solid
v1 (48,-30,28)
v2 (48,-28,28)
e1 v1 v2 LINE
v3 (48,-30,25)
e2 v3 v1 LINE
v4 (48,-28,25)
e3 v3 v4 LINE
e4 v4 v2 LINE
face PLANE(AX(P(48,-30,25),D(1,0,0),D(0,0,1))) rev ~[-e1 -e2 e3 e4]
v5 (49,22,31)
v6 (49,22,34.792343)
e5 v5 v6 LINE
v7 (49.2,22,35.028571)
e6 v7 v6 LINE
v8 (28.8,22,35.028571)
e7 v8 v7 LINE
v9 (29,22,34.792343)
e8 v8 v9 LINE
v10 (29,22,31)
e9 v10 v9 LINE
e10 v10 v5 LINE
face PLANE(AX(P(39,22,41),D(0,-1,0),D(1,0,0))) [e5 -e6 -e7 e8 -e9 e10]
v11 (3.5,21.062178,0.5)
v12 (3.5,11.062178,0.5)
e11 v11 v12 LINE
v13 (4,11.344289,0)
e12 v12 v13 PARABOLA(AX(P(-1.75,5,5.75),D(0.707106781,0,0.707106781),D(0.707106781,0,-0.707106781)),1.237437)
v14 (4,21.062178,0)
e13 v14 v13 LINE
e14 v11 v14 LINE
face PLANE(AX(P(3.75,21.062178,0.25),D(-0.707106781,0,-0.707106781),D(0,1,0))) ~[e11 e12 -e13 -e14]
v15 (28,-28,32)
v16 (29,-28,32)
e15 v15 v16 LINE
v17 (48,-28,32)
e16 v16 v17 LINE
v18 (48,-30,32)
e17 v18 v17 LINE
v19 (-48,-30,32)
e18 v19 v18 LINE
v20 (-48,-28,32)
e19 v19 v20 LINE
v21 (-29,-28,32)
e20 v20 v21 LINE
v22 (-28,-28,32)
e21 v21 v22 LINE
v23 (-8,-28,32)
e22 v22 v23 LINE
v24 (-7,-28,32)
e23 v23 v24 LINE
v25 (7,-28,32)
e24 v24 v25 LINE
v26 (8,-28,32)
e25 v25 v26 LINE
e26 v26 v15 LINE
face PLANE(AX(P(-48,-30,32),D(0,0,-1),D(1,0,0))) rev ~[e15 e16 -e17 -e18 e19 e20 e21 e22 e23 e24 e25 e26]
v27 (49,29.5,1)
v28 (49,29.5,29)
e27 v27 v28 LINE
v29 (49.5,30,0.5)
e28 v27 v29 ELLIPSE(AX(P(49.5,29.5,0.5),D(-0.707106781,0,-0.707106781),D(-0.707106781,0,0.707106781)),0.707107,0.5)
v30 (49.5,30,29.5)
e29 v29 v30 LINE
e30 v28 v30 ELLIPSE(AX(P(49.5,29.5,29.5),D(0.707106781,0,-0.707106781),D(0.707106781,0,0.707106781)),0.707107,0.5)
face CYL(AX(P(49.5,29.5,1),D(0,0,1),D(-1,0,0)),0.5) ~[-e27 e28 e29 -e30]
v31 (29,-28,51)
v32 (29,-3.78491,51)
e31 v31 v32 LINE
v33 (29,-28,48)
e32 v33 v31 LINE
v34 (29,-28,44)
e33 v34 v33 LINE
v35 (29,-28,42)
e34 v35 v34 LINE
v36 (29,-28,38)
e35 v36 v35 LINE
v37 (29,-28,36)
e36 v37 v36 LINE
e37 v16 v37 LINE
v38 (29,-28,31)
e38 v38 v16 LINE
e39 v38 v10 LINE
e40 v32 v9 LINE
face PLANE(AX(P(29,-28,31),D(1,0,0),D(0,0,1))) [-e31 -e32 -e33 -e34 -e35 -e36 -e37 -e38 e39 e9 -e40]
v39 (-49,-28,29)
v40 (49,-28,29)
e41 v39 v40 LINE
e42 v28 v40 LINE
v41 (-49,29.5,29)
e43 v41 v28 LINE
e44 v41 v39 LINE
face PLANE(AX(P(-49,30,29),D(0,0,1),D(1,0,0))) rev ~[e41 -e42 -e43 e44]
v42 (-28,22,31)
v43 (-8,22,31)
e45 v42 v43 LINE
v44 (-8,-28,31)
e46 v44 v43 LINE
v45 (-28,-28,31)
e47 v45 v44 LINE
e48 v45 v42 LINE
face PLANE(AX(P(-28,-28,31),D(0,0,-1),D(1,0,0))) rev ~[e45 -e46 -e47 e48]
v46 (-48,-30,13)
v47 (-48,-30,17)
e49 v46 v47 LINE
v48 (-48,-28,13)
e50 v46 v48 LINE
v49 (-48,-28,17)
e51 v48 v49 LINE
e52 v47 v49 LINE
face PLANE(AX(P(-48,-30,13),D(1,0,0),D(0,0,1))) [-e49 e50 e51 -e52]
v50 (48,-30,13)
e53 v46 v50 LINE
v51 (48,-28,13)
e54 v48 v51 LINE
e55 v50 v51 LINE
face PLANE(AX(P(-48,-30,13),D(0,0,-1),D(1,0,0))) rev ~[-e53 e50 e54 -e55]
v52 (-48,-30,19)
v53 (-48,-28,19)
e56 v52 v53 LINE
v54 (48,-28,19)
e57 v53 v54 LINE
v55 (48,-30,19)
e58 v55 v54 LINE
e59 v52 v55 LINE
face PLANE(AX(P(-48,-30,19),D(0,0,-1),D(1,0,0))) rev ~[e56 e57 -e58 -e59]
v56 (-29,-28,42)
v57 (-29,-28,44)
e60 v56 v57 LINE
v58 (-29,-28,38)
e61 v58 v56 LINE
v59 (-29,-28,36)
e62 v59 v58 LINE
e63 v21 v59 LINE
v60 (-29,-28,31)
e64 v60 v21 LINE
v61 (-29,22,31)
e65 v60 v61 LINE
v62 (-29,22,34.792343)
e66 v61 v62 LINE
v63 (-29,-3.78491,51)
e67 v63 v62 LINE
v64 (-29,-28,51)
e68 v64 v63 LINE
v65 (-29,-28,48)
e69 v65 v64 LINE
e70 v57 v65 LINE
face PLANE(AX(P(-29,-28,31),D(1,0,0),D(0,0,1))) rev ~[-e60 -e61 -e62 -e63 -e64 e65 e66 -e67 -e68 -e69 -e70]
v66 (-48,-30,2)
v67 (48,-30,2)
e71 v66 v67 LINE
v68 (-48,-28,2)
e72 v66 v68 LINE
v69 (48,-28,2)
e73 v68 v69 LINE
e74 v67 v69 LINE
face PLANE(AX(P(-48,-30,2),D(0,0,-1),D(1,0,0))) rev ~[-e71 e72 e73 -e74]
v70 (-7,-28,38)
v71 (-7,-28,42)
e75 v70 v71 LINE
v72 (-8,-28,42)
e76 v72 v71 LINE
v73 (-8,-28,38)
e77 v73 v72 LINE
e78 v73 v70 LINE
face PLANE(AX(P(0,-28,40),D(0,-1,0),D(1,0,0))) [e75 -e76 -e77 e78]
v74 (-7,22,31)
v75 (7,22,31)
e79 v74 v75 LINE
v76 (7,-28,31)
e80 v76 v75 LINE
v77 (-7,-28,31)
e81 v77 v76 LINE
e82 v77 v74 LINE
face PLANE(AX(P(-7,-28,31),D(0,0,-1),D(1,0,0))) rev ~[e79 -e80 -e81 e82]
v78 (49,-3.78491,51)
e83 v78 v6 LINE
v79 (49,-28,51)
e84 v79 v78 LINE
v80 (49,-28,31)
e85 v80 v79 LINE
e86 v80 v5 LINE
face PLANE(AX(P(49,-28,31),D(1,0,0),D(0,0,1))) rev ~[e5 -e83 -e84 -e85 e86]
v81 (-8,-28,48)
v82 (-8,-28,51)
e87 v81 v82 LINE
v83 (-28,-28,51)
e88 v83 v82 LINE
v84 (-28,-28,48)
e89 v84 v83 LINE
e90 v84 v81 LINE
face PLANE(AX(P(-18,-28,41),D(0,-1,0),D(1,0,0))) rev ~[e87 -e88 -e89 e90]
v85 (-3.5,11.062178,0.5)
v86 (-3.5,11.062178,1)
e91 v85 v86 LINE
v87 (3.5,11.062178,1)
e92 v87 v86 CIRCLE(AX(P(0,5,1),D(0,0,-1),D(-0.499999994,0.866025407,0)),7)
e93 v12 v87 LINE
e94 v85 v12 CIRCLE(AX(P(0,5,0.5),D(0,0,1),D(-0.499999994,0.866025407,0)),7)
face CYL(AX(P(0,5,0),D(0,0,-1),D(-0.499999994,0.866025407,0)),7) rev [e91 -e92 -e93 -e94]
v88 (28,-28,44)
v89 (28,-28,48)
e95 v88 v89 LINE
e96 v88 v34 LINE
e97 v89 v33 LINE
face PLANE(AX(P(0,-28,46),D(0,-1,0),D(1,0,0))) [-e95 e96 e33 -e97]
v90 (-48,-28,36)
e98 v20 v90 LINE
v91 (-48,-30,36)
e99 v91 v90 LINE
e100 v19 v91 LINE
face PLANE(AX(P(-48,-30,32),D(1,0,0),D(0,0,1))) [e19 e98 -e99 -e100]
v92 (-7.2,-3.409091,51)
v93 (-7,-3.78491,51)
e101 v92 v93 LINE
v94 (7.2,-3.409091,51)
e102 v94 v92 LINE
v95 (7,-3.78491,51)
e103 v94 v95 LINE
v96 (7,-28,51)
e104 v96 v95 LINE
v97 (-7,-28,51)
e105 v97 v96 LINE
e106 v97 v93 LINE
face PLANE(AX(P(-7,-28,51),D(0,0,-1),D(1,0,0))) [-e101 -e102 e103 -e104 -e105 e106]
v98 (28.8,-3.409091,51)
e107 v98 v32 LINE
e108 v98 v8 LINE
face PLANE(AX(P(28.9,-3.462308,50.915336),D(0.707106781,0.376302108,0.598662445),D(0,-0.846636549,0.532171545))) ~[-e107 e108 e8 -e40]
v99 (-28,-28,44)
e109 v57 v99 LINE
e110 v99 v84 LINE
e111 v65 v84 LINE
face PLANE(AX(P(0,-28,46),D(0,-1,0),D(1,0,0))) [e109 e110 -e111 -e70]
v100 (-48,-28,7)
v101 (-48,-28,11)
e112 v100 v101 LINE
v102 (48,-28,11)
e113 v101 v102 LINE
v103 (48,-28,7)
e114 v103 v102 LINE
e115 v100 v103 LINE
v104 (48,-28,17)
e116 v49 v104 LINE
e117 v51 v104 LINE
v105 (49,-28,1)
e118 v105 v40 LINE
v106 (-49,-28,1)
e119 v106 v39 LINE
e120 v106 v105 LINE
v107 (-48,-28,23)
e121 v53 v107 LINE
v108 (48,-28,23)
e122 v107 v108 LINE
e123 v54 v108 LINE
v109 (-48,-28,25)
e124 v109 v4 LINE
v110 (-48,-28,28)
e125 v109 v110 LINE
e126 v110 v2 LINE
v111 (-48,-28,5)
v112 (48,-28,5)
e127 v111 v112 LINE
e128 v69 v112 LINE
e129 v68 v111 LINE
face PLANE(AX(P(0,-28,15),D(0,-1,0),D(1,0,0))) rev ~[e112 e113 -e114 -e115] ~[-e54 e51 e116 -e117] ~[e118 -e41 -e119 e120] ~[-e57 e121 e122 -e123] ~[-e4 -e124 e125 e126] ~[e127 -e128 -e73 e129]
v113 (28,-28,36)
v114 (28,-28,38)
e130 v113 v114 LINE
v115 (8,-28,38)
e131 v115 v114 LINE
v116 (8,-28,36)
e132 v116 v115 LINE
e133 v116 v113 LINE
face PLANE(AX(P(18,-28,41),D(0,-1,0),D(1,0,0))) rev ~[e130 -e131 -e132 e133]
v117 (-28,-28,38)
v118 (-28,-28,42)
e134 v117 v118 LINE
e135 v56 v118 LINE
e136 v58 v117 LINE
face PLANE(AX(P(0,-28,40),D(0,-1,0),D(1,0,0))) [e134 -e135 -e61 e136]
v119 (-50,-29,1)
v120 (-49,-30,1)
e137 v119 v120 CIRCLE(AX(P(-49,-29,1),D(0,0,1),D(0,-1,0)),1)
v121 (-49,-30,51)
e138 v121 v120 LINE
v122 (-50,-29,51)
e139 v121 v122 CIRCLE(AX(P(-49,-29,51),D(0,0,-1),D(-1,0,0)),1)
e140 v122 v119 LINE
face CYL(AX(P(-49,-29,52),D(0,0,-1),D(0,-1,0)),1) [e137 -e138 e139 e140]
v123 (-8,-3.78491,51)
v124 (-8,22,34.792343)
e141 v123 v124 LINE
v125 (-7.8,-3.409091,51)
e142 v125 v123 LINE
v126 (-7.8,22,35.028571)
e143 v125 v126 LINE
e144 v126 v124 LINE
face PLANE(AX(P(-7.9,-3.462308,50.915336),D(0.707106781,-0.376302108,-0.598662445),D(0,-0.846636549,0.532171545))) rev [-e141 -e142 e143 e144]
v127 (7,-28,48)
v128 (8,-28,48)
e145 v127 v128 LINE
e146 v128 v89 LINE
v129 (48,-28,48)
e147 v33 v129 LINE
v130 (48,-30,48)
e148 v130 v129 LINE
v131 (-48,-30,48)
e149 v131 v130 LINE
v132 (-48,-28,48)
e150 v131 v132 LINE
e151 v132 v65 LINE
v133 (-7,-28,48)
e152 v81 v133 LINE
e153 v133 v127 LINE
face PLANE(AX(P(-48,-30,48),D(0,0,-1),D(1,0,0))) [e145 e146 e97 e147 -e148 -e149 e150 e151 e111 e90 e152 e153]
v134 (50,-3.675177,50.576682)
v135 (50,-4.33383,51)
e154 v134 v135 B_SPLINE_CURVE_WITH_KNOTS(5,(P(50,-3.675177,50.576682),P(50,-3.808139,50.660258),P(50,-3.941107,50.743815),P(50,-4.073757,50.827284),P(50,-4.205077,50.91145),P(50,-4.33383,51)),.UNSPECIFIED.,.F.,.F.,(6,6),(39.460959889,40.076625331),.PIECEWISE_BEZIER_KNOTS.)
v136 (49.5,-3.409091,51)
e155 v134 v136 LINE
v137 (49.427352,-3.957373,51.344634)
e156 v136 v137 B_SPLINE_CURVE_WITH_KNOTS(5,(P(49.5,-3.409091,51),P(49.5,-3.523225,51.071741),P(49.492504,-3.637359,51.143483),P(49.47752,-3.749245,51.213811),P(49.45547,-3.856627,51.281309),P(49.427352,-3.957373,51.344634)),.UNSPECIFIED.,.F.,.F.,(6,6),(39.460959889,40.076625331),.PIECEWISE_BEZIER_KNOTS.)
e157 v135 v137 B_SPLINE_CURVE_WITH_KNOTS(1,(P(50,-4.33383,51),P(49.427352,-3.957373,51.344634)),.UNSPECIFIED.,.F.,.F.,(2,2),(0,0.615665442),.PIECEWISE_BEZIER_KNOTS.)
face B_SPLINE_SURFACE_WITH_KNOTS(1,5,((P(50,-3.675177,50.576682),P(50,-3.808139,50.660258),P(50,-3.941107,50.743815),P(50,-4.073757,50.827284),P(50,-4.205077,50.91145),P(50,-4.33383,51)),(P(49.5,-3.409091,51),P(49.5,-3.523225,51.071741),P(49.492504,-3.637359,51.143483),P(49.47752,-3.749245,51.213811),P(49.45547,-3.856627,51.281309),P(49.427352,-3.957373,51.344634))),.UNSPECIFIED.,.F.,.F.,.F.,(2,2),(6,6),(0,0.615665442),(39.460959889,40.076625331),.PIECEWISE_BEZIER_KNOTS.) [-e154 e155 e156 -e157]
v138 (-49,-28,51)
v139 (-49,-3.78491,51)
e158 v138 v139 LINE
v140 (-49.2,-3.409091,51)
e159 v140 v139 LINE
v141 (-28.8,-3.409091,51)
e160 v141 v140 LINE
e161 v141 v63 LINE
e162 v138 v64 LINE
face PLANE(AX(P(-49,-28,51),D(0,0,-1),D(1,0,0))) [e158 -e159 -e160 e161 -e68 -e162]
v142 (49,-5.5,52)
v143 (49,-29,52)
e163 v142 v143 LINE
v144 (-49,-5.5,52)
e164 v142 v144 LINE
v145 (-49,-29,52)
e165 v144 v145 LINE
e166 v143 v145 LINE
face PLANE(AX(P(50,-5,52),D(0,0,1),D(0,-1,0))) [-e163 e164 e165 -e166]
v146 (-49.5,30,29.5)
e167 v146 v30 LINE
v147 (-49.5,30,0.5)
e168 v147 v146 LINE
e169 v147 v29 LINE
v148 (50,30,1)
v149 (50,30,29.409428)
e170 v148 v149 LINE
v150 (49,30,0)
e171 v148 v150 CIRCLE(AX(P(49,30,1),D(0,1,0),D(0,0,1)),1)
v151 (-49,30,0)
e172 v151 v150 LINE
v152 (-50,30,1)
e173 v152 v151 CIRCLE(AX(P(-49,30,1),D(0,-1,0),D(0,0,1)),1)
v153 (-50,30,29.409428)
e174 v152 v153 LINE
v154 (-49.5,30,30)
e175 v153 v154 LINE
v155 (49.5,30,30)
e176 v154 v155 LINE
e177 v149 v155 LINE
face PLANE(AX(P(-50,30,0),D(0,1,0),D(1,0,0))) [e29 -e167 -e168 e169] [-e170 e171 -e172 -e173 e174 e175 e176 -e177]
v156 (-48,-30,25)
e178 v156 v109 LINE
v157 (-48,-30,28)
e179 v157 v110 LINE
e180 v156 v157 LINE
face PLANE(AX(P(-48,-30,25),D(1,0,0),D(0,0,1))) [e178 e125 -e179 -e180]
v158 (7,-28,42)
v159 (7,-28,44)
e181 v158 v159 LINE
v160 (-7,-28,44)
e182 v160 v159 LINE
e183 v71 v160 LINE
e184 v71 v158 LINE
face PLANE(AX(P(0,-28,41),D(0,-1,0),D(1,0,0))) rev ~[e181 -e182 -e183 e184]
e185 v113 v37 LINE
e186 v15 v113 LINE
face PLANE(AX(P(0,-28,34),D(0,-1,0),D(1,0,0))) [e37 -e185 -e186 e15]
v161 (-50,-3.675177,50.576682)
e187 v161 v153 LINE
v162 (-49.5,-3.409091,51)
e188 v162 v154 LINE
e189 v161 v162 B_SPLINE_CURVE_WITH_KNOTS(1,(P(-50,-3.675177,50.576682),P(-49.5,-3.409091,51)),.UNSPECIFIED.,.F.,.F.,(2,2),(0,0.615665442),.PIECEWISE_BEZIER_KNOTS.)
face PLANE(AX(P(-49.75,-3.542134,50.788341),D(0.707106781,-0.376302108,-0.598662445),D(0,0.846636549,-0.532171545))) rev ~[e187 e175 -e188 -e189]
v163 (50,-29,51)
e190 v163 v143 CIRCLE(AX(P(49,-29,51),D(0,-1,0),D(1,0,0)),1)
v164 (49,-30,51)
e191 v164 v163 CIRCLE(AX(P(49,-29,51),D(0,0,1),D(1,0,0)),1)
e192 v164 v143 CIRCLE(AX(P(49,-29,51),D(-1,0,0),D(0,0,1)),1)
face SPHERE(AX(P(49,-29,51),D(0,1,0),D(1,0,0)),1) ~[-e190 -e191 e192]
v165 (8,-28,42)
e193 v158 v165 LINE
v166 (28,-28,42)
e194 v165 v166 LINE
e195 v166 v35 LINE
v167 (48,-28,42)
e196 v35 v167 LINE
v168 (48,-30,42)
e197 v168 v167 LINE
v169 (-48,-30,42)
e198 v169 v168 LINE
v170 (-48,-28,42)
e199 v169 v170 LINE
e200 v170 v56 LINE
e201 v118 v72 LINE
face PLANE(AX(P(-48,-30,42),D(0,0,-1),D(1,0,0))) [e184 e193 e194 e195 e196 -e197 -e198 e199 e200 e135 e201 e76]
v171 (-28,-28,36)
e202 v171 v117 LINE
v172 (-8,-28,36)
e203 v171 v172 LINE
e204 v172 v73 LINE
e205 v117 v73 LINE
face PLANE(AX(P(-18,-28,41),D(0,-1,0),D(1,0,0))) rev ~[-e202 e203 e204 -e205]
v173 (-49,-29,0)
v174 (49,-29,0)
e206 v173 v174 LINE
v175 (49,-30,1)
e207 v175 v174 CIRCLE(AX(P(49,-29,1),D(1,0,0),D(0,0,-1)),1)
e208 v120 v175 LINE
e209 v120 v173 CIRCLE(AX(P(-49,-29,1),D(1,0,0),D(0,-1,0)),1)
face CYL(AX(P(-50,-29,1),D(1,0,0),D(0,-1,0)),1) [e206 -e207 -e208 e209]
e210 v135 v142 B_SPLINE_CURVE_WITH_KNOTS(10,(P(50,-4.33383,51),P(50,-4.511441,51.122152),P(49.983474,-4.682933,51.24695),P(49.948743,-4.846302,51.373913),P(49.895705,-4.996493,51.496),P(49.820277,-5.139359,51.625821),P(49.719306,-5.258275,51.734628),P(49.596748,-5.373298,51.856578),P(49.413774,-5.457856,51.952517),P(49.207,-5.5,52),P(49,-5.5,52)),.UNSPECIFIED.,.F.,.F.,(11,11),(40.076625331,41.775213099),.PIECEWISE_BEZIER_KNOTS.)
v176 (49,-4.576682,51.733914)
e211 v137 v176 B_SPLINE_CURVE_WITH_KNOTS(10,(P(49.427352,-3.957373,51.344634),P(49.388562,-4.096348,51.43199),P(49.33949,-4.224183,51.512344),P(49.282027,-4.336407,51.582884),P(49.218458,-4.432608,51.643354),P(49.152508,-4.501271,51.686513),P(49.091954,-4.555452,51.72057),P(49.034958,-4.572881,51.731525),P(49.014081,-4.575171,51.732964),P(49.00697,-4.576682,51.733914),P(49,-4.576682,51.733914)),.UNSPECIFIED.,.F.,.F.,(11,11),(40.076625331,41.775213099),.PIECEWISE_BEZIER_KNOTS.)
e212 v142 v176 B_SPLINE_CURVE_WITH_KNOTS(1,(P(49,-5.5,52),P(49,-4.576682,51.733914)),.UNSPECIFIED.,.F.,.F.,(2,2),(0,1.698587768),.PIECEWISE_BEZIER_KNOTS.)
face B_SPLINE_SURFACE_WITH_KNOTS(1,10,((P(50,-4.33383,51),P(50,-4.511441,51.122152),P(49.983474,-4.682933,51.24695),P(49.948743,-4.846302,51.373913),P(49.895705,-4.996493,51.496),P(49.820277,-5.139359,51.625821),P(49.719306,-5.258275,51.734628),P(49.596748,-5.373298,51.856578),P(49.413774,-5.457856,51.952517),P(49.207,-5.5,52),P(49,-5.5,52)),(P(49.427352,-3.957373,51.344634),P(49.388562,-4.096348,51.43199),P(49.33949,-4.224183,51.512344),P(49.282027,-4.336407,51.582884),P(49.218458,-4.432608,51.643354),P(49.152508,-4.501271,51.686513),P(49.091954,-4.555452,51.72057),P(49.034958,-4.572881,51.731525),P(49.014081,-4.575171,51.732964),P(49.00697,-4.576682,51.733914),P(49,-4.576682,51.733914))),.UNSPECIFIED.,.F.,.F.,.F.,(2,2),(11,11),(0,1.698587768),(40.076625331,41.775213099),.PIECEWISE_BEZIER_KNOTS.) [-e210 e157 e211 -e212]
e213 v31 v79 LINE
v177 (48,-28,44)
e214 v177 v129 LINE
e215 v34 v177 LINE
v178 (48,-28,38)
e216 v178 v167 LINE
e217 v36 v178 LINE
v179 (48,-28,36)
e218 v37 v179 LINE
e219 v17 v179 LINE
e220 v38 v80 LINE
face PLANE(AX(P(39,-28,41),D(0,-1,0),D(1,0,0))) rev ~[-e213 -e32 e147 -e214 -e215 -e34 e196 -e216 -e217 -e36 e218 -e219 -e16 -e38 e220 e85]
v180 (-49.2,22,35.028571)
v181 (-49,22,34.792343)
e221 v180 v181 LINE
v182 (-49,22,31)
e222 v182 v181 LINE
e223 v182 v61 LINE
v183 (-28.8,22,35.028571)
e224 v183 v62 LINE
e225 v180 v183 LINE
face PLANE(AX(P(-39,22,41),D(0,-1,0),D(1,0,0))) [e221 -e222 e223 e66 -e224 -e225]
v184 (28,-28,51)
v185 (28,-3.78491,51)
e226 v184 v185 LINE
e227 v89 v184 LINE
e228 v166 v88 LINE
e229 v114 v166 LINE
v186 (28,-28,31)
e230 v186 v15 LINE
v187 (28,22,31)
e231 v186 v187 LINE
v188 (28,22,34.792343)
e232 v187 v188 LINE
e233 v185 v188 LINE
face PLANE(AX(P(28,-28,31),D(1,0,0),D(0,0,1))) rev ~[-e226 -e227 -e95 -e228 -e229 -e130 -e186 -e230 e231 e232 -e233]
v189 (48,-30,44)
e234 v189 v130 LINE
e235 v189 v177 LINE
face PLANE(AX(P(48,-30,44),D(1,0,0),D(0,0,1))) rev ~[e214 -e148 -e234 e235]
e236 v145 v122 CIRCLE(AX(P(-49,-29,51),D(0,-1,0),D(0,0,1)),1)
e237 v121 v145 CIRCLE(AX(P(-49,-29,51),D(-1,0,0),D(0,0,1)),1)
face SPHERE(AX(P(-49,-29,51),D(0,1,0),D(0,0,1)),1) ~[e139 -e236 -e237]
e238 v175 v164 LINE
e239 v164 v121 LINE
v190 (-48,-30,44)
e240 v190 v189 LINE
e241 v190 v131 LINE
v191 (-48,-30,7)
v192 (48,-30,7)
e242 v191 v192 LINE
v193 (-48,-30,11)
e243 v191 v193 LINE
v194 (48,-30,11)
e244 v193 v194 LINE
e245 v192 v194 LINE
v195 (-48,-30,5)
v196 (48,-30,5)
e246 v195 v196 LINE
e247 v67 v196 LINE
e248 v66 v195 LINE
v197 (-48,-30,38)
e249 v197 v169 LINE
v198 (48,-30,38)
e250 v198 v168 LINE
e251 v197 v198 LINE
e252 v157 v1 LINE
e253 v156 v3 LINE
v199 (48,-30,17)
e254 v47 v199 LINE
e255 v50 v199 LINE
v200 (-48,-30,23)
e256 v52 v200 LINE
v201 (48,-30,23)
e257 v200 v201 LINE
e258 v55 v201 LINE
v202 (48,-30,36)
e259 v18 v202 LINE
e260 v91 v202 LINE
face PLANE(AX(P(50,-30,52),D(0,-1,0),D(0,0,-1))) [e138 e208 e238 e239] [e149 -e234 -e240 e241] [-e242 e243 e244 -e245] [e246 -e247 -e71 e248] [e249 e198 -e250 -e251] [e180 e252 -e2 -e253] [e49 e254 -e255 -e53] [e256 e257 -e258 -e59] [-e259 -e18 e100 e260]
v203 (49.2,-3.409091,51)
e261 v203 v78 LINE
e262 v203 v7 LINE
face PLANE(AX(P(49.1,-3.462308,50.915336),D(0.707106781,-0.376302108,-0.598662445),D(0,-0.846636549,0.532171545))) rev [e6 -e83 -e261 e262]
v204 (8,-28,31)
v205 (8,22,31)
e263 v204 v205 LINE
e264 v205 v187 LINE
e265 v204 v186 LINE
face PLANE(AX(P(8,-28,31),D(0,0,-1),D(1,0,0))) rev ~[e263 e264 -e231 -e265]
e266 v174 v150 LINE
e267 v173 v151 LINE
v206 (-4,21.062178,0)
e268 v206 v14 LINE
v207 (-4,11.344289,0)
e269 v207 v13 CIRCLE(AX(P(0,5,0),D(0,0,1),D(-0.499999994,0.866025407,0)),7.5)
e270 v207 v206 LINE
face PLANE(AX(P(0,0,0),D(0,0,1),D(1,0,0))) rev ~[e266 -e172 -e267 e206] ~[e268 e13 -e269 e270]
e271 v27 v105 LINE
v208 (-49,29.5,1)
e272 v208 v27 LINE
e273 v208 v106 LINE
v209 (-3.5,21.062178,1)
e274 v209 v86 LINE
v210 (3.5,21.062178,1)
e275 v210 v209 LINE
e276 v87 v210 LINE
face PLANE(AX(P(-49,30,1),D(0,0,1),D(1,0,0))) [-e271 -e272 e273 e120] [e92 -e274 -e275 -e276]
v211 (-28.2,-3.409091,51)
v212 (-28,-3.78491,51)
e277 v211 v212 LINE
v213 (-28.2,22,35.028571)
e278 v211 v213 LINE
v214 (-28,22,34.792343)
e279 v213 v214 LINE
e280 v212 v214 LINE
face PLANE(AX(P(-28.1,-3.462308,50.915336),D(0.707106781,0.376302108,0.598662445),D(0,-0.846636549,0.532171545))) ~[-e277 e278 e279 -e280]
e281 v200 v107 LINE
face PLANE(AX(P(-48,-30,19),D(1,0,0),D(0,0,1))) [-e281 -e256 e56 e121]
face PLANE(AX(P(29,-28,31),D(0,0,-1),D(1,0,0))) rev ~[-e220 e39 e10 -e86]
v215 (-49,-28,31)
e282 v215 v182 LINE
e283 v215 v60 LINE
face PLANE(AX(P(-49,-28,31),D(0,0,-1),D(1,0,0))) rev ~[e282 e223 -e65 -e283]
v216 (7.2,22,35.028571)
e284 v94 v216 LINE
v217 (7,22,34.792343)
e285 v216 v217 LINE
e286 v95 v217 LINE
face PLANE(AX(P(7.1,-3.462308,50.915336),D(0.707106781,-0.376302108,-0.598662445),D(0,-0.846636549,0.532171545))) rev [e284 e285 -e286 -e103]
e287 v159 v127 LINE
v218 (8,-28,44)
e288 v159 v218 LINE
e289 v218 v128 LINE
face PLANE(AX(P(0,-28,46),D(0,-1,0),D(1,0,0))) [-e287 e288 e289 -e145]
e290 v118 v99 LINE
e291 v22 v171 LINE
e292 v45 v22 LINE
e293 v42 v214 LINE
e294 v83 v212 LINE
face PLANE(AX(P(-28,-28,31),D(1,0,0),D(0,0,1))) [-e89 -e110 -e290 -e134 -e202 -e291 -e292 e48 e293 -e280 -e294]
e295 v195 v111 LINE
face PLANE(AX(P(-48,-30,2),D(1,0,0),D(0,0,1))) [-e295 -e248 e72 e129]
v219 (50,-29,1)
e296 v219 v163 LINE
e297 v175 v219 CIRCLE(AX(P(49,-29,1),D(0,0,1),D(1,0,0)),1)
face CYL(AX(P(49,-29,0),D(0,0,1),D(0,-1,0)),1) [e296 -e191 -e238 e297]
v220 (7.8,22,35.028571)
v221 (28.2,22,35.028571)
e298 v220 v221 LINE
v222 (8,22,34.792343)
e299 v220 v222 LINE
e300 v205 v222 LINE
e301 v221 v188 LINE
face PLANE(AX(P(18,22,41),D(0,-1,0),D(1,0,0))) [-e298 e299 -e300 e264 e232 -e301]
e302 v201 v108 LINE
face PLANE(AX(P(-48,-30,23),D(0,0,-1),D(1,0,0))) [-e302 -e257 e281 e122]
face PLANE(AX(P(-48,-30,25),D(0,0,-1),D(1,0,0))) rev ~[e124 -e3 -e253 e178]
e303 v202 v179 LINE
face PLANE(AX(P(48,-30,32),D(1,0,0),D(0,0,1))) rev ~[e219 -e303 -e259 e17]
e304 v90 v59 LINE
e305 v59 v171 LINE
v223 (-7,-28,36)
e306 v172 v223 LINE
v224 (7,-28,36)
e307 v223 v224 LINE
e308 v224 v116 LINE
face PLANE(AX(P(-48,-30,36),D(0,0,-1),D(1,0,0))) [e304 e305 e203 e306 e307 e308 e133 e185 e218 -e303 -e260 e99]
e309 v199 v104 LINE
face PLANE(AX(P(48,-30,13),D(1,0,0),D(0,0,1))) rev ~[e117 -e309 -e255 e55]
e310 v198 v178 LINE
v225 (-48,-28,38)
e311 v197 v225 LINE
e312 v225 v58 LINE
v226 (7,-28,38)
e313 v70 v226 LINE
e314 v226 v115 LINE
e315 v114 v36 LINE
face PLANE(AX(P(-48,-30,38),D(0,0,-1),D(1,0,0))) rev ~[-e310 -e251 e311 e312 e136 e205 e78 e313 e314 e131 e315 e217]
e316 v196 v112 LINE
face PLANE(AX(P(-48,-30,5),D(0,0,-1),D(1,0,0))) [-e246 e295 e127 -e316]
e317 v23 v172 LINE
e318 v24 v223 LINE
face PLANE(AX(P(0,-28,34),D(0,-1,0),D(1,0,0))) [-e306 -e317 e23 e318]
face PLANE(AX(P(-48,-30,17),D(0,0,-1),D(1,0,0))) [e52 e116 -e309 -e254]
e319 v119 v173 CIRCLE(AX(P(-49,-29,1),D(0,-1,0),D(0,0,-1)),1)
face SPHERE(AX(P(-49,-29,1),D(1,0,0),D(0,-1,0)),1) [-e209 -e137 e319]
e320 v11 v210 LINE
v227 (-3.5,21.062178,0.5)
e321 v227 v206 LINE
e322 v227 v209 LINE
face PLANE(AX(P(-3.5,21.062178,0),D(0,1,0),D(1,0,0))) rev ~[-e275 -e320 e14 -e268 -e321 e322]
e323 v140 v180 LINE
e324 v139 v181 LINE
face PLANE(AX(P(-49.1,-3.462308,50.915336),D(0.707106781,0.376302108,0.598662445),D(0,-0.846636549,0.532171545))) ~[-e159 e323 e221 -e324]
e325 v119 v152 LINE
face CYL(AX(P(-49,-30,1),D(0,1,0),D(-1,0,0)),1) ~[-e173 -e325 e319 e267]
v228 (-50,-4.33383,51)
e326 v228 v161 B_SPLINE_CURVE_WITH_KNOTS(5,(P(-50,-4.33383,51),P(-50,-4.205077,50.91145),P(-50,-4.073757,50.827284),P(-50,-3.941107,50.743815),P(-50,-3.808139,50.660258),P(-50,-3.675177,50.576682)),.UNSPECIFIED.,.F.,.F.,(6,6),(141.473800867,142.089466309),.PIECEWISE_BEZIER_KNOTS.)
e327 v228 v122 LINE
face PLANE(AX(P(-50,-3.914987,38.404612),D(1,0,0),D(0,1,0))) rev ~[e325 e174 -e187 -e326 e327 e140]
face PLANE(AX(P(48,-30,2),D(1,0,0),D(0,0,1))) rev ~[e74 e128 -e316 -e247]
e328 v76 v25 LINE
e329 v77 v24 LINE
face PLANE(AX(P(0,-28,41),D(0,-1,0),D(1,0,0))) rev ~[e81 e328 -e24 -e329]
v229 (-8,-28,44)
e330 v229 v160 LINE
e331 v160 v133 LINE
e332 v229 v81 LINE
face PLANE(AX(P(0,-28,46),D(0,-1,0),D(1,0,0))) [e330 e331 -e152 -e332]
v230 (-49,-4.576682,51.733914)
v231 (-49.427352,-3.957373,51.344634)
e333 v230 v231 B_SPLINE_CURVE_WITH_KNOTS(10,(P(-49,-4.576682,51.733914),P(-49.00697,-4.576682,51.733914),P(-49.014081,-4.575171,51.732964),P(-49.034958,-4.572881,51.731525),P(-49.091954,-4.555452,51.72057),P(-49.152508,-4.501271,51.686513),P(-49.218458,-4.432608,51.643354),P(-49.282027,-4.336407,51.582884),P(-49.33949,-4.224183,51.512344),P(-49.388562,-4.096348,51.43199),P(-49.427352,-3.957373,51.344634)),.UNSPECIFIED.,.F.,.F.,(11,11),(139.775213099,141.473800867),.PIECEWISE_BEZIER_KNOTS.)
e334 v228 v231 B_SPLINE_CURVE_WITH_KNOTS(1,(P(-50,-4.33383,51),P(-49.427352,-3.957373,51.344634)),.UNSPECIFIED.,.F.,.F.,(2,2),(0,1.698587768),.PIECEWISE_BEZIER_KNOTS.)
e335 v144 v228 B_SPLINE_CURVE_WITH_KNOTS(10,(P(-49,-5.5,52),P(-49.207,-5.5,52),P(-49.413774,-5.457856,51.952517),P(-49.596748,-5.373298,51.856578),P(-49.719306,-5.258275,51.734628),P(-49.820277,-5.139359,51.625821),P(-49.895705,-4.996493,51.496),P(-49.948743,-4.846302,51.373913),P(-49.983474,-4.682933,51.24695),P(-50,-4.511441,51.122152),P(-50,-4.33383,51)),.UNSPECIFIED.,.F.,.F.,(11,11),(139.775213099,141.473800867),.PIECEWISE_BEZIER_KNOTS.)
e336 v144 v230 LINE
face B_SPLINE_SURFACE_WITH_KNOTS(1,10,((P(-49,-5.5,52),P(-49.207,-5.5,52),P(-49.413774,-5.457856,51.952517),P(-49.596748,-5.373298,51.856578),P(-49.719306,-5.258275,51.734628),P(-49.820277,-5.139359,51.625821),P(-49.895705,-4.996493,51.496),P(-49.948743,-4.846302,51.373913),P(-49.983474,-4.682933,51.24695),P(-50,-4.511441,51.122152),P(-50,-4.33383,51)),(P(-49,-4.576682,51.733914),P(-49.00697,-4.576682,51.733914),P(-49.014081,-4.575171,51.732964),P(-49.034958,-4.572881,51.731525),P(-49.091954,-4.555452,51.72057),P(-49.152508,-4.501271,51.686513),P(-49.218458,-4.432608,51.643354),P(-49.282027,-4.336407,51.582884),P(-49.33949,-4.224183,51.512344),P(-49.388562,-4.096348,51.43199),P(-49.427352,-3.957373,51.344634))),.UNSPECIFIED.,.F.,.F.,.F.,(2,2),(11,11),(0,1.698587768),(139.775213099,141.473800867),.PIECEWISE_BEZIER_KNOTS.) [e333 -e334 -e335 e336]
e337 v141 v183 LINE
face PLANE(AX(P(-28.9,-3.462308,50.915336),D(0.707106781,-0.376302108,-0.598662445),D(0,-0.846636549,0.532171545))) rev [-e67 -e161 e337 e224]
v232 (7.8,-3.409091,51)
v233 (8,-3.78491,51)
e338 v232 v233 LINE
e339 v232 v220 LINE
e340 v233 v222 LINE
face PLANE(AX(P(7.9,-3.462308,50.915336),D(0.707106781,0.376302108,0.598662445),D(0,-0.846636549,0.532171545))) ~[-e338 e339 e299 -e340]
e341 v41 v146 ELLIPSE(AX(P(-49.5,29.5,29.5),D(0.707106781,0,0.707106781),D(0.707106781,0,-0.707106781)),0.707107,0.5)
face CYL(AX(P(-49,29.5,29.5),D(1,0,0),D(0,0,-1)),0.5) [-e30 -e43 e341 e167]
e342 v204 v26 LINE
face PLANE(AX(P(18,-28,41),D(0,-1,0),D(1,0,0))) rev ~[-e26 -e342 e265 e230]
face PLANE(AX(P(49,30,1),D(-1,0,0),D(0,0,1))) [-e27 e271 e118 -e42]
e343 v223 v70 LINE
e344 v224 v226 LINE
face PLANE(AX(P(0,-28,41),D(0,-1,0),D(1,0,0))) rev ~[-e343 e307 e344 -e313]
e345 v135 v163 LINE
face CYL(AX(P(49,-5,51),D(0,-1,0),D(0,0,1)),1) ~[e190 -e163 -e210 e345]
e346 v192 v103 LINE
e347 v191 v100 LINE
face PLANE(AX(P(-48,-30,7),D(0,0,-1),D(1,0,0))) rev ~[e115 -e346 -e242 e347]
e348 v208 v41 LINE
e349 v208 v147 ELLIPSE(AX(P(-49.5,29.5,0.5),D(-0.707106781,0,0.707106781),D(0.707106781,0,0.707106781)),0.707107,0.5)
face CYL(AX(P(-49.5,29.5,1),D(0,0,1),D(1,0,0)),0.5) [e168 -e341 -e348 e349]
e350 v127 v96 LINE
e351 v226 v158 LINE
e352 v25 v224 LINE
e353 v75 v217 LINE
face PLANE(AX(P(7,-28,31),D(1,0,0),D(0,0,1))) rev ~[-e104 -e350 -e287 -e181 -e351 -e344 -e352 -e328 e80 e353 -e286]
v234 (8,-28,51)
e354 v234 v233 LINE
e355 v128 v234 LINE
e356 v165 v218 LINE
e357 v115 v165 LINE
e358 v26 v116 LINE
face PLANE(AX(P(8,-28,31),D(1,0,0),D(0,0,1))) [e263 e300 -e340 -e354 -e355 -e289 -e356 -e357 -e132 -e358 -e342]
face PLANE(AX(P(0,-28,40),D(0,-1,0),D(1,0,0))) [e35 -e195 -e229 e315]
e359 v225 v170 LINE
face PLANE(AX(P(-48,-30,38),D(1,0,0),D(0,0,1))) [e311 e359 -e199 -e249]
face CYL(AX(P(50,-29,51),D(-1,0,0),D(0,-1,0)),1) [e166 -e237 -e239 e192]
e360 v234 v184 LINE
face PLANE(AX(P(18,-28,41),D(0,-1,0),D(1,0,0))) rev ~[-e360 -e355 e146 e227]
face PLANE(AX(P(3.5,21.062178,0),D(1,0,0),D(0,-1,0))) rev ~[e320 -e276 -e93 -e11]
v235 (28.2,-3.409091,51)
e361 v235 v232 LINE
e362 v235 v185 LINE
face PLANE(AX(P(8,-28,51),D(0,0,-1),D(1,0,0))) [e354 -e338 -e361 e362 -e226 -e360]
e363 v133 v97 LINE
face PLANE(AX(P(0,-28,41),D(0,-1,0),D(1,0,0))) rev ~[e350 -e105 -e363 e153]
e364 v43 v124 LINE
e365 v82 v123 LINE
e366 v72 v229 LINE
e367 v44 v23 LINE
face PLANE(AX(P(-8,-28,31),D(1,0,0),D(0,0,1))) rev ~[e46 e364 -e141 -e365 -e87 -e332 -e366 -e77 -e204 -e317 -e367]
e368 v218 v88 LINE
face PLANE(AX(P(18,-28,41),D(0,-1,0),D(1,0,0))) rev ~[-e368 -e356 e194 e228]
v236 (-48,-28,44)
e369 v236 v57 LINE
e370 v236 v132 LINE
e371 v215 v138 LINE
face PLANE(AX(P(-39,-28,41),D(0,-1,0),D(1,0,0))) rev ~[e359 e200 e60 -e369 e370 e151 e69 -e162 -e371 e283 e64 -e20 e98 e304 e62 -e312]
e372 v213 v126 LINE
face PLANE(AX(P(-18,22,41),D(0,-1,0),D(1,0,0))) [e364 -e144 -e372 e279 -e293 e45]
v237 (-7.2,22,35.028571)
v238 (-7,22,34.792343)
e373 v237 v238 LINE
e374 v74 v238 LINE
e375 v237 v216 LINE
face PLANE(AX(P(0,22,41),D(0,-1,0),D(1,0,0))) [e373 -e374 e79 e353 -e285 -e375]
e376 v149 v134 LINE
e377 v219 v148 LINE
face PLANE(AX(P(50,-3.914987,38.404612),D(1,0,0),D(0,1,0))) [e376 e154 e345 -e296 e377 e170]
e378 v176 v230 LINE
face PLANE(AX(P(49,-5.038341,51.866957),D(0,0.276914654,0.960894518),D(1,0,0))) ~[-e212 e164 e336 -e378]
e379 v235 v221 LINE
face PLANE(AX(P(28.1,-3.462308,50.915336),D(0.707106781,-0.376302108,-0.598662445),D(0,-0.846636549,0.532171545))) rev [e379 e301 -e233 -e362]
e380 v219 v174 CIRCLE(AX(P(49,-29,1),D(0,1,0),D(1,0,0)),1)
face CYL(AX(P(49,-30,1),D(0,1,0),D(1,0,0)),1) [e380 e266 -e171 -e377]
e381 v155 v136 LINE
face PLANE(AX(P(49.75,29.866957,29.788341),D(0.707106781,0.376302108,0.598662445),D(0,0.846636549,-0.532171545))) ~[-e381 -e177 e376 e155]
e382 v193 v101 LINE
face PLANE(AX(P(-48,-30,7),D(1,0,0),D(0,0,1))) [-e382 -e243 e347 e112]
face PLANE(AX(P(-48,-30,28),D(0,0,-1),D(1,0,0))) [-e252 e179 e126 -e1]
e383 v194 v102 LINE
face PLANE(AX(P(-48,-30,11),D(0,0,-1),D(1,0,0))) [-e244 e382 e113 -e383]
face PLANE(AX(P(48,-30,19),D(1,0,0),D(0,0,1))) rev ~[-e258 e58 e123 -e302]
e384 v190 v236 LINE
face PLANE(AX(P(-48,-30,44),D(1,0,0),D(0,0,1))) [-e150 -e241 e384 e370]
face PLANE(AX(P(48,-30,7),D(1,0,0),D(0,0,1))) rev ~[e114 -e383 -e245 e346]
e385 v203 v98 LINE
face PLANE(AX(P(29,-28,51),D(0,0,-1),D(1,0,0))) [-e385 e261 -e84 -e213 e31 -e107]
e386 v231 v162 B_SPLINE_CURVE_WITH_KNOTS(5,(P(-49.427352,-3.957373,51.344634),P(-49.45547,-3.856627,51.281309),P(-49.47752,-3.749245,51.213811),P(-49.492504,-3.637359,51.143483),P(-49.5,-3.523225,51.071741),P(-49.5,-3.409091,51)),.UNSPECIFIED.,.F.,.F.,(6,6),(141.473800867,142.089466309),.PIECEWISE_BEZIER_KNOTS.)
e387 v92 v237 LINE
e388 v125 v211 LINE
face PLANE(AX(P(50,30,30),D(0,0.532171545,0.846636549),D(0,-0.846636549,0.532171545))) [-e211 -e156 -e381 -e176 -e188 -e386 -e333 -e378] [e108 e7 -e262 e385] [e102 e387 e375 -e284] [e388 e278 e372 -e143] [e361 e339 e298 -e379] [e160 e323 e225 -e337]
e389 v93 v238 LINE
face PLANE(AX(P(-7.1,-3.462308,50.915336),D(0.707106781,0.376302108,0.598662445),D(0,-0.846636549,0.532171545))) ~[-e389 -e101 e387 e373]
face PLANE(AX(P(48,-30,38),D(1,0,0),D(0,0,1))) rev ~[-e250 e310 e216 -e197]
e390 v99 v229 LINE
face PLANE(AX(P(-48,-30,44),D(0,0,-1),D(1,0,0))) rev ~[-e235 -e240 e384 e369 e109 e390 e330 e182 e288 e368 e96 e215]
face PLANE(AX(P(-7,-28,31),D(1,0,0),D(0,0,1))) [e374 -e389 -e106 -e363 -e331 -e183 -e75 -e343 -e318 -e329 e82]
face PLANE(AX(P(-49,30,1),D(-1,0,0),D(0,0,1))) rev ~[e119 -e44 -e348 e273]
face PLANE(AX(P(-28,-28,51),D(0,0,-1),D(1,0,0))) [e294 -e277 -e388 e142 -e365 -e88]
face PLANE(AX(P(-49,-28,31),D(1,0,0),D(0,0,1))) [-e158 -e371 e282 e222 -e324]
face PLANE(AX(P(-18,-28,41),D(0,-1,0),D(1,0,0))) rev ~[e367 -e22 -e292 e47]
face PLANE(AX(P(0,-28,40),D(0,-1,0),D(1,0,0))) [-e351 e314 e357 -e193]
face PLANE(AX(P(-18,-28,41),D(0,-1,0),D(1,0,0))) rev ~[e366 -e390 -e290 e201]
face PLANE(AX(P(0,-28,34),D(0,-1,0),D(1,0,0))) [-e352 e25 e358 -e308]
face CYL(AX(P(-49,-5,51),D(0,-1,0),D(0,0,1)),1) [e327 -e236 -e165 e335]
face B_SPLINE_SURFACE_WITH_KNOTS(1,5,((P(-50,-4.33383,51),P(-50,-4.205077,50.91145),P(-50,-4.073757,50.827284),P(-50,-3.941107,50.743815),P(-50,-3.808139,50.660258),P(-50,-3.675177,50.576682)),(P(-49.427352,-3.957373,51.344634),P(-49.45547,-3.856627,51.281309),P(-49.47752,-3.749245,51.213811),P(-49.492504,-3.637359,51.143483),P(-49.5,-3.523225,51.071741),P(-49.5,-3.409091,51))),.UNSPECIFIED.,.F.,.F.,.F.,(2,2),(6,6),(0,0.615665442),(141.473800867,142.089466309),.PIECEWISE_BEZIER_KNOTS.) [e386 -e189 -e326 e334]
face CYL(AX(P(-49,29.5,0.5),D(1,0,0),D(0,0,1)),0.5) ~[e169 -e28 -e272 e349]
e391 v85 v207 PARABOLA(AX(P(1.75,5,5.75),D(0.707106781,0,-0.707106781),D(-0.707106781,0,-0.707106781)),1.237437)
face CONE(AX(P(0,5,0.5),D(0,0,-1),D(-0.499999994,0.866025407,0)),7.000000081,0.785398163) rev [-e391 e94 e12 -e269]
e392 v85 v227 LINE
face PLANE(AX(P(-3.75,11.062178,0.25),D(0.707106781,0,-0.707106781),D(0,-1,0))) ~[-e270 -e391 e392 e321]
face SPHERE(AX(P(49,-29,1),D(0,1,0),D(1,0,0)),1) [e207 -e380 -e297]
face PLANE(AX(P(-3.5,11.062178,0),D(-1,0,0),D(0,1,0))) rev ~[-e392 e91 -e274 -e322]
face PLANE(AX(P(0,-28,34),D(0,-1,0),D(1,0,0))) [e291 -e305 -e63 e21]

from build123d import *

# Parameters (mm, degrees)
SKETCH_W        = 100
SKETCH_H        = 60
PAD_DEPTH       = 30
SKETCH001_W     = 98
SKETCH001_H     = 28
POCKET_DEPTH    = 58
SKETCH002_W     = 96
SKETCH002_H     = 3
POCKET001_DEPTH = 60.001
SKETCH003_W     = 96
SKETCH003_H     = 4
POCKET002_DEPTH = 60.001
SKETCH007_W     = 96
SKETCH007_H     = 4
POCKET003_DEPTH = 60.001
SKETCH008_W     = 96
SKETCH008_H     = 4
POCKET004_DEPTH = 60.001
SKETCH009_W     = 96
SKETCH009_H     = 3
POCKET005_DEPTH = 60.001
POCKET006_DEPTH = 2
PAD001_DEPTH    = 100
SKETCH012_W     = 20
SKETCH012_H     = 20
SKETCH012_W_2   = 14
POCKET007_DEPTH = 50
SKETCH013_W     = 96
SKETCH013_H     = 4
POCKET008_DEPTH = 2
SKETCH014_W     = 96
SKETCH014_H     = 4
POCKET009_DEPTH = 2
SKETCH015_W     = 96
SKETCH015_H     = 4
POCKET010_DEPTH = 2
FILLET_R        = 1
CHAMFER_SIZE    = 0.5
CHAMFER001_SIZE = 0.2
CHAMFER002_SIZE = 0.2
CHAMFER003_SIZE = 0.2
FILLET001_R     = 0.5
CHAMFER004_SIZE = 0.5


with BuildPart() as part:
    # Sketch → Pad (new body)
    with BuildSketch(Plane.XY):
        Rectangle(SKETCH_W, SKETCH_H)
    extrude(amount=PAD_DEPTH)

    # Sketch001 → Pocket (cut)
    with BuildSketch(Plane.XZ.offset(-30)):
        with Locations((0, 15)):
            Rectangle(SKETCH001_W, SKETCH001_H)
    extrude(amount=POCKET_DEPTH, mode=Mode.SUBTRACT)

    # Sketch002 → Pocket001 (cut, through all)
    with BuildSketch(Plane.XZ.offset(30)):
        with Locations((0, 26.5)):
            Rectangle(SKETCH002_W, SKETCH002_H)
    extrude(amount=-POCKET001_DEPTH, mode=Mode.SUBTRACT)

    # Sketch003 → Pocket002 (cut, through all)
    with BuildSketch(Plane.XZ.offset(30)):
        with Locations((0, 21)):
            Rectangle(SKETCH003_W, SKETCH003_H)
    extrude(amount=-POCKET002_DEPTH, mode=Mode.SUBTRACT)

    # Sketch007 → Pocket003 (cut, through all)
    with BuildSketch(Plane.XZ.offset(30)):
        with Locations((0, 15)):
            Rectangle(SKETCH007_W, SKETCH007_H)
    extrude(amount=-POCKET003_DEPTH, mode=Mode.SUBTRACT)

    # Sketch008 → Pocket004 (cut, through all)
    with BuildSketch(Plane.XZ.offset(30)):
        with Locations((0, 9)):
            Rectangle(SKETCH008_W, SKETCH008_H)
    extrude(amount=-POCKET004_DEPTH, mode=Mode.SUBTRACT)

    # Sketch009 → Pocket005 (cut, through all)
    with BuildSketch(Plane.XZ.offset(30)):
        with Locations((0, 3.5)):
            Rectangle(SKETCH009_W, SKETCH009_H)
    extrude(amount=-POCKET005_DEPTH, mode=Mode.SUBTRACT)

    # Sketch010 → Pocket006 (cut)
    with BuildSketch(Plane.XY):
        with BuildLine():
            Line((-3.5, 21.062178), (3.5, 21.062178))
            Line((3.5, 21.062178), (3.5, 11.062178))
            ThreePointArc((-3.5, 11.062178), (0, -2), (3.5, 11.062178))
            Line((-3.5, 11.062178), (-3.5, 21.062178))
        make_face()
    extrude(amount=POCKET006_DEPTH, mode=Mode.SUBTRACT)

    # Sketch011 → Pad001 (join)
    with BuildSketch(Plane.YZ.offset(50)):
        Polygon((-30, 52), (-30, 30), (30, 30), (-5, 52), align=None)
    extrude(amount=-PAD001_DEPTH)

    # Sketch012 → Pocket007 (cut)
    with BuildSketch(Plane.XZ.offset(28)):
        with Locations((39, 41)):
            Rectangle(SKETCH012_W, SKETCH012_H)
        with Locations((18, 41)):
            Rectangle(SKETCH012_W, SKETCH012_H)
        with Locations((-39, 41)):
            Rectangle(SKETCH012_W, SKETCH012_H)
        with Locations((-18, 41)):
            Rectangle(SKETCH012_W, SKETCH012_H)
        with Locations((0, 41)):
            Rectangle(SKETCH012_W_2, SKETCH012_H)
    extrude(amount=-POCKET007_DEPTH, mode=Mode.SUBTRACT)

    # Sketch013 → Pocket008 (cut)
    with BuildSketch(Plane.XZ.offset(30)):
        with Locations((0, 34)):
            Rectangle(SKETCH013_W, SKETCH013_H)
    extrude(amount=-POCKET008_DEPTH, mode=Mode.SUBTRACT)

    # Sketch014 → Pocket009 (cut)
    with BuildSketch(Plane.XZ.offset(30)):
        with Locations((0, 40)):
            Rectangle(SKETCH014_W, SKETCH014_H)
    extrude(amount=-POCKET009_DEPTH, mode=Mode.SUBTRACT)

    # Sketch015 → Pocket010 (cut)
    with BuildSketch(Plane.XZ.offset(30)):
        with Locations((0, 46)):
            Rectangle(SKETCH015_W, SKETCH015_H)
    extrude(amount=-POCKET010_DEPTH, mode=Mode.SUBTRACT)

    # Fillet
    fillet_edges = [part.edges().sort_by_distance(p)[0] for p in [
        (-50, -17.5, 52),
        (50, -17.5, 52),
        (50, 0, 0),
        (50, -30, 26),
        (0, -30, 52),
        (0, -30, 0),
        (-50, -30, 26),
        (-50, 0, 0),
    ]]
    fillet(fillet_edges, radius=FILLET_R)

    # Chamfer
    chamfer_edges = [part.edges().sort_by_distance(p)[0] for p in [
        (50, 13.295455, 40.5),
        (-50, 13.295455, 40.5),
    ]]
    chamfer(chamfer_edges, length=CHAMFER_SIZE)

    # Chamfer001
    chamfer001_edges = [part.edges().sort_by_distance(p)[0] for p in [
        (-29, 9.295455, 43.014286),
        (-28, 9.295455, 43.014286),
    ]]
    chamfer(chamfer001_edges, length=CHAMFER001_SIZE)

    # Chamfer002
    chamfer002_edges = [part.edges().sort_by_distance(p)[0] for p in [
        (7, 9.295455, 43.014286),
        (8, 9.295455, 43.014286),
        (-8, 9.295455, 43.014286),
        (-7, 9.295455, 43.014286),
        (28, 9.295455, 43.014286),
        (29, 9.295455, 43.014286),
    ]]
    chamfer(chamfer002_edges, length=CHAMFER002_SIZE)

    # Chamfer003
    chamfer003_edges = [part.edges().sort_by_distance(p)[0] for p in [
        (49, 9.295455, 43.014286),
        (-49, 9.295455, 43.014286),
    ]]
    chamfer(chamfer003_edges, length=CHAMFER003_SIZE)

    # Fillet001
    fillet001_edges = [part.edges().sort_by_distance(p)[0] for p in [
        (49, 30, 15),
        (0, 30, 29),
        (0, 30, 1),
        (-49, 30, 15),
    ]]
    fillet(fillet001_edges, radius=FILLET001_R)

    # Chamfer004
    chamfer004_edges = [part.edges().sort_by_distance(p)[0] for p in [
        (0, -2, 0),
        (3.5, 16.062178, 0),
        (-3.5, 16.062178, 0),
    ]]
    chamfer(chamfer004_edges, length=CHAMFER004_SIZE)


solid = part.part
